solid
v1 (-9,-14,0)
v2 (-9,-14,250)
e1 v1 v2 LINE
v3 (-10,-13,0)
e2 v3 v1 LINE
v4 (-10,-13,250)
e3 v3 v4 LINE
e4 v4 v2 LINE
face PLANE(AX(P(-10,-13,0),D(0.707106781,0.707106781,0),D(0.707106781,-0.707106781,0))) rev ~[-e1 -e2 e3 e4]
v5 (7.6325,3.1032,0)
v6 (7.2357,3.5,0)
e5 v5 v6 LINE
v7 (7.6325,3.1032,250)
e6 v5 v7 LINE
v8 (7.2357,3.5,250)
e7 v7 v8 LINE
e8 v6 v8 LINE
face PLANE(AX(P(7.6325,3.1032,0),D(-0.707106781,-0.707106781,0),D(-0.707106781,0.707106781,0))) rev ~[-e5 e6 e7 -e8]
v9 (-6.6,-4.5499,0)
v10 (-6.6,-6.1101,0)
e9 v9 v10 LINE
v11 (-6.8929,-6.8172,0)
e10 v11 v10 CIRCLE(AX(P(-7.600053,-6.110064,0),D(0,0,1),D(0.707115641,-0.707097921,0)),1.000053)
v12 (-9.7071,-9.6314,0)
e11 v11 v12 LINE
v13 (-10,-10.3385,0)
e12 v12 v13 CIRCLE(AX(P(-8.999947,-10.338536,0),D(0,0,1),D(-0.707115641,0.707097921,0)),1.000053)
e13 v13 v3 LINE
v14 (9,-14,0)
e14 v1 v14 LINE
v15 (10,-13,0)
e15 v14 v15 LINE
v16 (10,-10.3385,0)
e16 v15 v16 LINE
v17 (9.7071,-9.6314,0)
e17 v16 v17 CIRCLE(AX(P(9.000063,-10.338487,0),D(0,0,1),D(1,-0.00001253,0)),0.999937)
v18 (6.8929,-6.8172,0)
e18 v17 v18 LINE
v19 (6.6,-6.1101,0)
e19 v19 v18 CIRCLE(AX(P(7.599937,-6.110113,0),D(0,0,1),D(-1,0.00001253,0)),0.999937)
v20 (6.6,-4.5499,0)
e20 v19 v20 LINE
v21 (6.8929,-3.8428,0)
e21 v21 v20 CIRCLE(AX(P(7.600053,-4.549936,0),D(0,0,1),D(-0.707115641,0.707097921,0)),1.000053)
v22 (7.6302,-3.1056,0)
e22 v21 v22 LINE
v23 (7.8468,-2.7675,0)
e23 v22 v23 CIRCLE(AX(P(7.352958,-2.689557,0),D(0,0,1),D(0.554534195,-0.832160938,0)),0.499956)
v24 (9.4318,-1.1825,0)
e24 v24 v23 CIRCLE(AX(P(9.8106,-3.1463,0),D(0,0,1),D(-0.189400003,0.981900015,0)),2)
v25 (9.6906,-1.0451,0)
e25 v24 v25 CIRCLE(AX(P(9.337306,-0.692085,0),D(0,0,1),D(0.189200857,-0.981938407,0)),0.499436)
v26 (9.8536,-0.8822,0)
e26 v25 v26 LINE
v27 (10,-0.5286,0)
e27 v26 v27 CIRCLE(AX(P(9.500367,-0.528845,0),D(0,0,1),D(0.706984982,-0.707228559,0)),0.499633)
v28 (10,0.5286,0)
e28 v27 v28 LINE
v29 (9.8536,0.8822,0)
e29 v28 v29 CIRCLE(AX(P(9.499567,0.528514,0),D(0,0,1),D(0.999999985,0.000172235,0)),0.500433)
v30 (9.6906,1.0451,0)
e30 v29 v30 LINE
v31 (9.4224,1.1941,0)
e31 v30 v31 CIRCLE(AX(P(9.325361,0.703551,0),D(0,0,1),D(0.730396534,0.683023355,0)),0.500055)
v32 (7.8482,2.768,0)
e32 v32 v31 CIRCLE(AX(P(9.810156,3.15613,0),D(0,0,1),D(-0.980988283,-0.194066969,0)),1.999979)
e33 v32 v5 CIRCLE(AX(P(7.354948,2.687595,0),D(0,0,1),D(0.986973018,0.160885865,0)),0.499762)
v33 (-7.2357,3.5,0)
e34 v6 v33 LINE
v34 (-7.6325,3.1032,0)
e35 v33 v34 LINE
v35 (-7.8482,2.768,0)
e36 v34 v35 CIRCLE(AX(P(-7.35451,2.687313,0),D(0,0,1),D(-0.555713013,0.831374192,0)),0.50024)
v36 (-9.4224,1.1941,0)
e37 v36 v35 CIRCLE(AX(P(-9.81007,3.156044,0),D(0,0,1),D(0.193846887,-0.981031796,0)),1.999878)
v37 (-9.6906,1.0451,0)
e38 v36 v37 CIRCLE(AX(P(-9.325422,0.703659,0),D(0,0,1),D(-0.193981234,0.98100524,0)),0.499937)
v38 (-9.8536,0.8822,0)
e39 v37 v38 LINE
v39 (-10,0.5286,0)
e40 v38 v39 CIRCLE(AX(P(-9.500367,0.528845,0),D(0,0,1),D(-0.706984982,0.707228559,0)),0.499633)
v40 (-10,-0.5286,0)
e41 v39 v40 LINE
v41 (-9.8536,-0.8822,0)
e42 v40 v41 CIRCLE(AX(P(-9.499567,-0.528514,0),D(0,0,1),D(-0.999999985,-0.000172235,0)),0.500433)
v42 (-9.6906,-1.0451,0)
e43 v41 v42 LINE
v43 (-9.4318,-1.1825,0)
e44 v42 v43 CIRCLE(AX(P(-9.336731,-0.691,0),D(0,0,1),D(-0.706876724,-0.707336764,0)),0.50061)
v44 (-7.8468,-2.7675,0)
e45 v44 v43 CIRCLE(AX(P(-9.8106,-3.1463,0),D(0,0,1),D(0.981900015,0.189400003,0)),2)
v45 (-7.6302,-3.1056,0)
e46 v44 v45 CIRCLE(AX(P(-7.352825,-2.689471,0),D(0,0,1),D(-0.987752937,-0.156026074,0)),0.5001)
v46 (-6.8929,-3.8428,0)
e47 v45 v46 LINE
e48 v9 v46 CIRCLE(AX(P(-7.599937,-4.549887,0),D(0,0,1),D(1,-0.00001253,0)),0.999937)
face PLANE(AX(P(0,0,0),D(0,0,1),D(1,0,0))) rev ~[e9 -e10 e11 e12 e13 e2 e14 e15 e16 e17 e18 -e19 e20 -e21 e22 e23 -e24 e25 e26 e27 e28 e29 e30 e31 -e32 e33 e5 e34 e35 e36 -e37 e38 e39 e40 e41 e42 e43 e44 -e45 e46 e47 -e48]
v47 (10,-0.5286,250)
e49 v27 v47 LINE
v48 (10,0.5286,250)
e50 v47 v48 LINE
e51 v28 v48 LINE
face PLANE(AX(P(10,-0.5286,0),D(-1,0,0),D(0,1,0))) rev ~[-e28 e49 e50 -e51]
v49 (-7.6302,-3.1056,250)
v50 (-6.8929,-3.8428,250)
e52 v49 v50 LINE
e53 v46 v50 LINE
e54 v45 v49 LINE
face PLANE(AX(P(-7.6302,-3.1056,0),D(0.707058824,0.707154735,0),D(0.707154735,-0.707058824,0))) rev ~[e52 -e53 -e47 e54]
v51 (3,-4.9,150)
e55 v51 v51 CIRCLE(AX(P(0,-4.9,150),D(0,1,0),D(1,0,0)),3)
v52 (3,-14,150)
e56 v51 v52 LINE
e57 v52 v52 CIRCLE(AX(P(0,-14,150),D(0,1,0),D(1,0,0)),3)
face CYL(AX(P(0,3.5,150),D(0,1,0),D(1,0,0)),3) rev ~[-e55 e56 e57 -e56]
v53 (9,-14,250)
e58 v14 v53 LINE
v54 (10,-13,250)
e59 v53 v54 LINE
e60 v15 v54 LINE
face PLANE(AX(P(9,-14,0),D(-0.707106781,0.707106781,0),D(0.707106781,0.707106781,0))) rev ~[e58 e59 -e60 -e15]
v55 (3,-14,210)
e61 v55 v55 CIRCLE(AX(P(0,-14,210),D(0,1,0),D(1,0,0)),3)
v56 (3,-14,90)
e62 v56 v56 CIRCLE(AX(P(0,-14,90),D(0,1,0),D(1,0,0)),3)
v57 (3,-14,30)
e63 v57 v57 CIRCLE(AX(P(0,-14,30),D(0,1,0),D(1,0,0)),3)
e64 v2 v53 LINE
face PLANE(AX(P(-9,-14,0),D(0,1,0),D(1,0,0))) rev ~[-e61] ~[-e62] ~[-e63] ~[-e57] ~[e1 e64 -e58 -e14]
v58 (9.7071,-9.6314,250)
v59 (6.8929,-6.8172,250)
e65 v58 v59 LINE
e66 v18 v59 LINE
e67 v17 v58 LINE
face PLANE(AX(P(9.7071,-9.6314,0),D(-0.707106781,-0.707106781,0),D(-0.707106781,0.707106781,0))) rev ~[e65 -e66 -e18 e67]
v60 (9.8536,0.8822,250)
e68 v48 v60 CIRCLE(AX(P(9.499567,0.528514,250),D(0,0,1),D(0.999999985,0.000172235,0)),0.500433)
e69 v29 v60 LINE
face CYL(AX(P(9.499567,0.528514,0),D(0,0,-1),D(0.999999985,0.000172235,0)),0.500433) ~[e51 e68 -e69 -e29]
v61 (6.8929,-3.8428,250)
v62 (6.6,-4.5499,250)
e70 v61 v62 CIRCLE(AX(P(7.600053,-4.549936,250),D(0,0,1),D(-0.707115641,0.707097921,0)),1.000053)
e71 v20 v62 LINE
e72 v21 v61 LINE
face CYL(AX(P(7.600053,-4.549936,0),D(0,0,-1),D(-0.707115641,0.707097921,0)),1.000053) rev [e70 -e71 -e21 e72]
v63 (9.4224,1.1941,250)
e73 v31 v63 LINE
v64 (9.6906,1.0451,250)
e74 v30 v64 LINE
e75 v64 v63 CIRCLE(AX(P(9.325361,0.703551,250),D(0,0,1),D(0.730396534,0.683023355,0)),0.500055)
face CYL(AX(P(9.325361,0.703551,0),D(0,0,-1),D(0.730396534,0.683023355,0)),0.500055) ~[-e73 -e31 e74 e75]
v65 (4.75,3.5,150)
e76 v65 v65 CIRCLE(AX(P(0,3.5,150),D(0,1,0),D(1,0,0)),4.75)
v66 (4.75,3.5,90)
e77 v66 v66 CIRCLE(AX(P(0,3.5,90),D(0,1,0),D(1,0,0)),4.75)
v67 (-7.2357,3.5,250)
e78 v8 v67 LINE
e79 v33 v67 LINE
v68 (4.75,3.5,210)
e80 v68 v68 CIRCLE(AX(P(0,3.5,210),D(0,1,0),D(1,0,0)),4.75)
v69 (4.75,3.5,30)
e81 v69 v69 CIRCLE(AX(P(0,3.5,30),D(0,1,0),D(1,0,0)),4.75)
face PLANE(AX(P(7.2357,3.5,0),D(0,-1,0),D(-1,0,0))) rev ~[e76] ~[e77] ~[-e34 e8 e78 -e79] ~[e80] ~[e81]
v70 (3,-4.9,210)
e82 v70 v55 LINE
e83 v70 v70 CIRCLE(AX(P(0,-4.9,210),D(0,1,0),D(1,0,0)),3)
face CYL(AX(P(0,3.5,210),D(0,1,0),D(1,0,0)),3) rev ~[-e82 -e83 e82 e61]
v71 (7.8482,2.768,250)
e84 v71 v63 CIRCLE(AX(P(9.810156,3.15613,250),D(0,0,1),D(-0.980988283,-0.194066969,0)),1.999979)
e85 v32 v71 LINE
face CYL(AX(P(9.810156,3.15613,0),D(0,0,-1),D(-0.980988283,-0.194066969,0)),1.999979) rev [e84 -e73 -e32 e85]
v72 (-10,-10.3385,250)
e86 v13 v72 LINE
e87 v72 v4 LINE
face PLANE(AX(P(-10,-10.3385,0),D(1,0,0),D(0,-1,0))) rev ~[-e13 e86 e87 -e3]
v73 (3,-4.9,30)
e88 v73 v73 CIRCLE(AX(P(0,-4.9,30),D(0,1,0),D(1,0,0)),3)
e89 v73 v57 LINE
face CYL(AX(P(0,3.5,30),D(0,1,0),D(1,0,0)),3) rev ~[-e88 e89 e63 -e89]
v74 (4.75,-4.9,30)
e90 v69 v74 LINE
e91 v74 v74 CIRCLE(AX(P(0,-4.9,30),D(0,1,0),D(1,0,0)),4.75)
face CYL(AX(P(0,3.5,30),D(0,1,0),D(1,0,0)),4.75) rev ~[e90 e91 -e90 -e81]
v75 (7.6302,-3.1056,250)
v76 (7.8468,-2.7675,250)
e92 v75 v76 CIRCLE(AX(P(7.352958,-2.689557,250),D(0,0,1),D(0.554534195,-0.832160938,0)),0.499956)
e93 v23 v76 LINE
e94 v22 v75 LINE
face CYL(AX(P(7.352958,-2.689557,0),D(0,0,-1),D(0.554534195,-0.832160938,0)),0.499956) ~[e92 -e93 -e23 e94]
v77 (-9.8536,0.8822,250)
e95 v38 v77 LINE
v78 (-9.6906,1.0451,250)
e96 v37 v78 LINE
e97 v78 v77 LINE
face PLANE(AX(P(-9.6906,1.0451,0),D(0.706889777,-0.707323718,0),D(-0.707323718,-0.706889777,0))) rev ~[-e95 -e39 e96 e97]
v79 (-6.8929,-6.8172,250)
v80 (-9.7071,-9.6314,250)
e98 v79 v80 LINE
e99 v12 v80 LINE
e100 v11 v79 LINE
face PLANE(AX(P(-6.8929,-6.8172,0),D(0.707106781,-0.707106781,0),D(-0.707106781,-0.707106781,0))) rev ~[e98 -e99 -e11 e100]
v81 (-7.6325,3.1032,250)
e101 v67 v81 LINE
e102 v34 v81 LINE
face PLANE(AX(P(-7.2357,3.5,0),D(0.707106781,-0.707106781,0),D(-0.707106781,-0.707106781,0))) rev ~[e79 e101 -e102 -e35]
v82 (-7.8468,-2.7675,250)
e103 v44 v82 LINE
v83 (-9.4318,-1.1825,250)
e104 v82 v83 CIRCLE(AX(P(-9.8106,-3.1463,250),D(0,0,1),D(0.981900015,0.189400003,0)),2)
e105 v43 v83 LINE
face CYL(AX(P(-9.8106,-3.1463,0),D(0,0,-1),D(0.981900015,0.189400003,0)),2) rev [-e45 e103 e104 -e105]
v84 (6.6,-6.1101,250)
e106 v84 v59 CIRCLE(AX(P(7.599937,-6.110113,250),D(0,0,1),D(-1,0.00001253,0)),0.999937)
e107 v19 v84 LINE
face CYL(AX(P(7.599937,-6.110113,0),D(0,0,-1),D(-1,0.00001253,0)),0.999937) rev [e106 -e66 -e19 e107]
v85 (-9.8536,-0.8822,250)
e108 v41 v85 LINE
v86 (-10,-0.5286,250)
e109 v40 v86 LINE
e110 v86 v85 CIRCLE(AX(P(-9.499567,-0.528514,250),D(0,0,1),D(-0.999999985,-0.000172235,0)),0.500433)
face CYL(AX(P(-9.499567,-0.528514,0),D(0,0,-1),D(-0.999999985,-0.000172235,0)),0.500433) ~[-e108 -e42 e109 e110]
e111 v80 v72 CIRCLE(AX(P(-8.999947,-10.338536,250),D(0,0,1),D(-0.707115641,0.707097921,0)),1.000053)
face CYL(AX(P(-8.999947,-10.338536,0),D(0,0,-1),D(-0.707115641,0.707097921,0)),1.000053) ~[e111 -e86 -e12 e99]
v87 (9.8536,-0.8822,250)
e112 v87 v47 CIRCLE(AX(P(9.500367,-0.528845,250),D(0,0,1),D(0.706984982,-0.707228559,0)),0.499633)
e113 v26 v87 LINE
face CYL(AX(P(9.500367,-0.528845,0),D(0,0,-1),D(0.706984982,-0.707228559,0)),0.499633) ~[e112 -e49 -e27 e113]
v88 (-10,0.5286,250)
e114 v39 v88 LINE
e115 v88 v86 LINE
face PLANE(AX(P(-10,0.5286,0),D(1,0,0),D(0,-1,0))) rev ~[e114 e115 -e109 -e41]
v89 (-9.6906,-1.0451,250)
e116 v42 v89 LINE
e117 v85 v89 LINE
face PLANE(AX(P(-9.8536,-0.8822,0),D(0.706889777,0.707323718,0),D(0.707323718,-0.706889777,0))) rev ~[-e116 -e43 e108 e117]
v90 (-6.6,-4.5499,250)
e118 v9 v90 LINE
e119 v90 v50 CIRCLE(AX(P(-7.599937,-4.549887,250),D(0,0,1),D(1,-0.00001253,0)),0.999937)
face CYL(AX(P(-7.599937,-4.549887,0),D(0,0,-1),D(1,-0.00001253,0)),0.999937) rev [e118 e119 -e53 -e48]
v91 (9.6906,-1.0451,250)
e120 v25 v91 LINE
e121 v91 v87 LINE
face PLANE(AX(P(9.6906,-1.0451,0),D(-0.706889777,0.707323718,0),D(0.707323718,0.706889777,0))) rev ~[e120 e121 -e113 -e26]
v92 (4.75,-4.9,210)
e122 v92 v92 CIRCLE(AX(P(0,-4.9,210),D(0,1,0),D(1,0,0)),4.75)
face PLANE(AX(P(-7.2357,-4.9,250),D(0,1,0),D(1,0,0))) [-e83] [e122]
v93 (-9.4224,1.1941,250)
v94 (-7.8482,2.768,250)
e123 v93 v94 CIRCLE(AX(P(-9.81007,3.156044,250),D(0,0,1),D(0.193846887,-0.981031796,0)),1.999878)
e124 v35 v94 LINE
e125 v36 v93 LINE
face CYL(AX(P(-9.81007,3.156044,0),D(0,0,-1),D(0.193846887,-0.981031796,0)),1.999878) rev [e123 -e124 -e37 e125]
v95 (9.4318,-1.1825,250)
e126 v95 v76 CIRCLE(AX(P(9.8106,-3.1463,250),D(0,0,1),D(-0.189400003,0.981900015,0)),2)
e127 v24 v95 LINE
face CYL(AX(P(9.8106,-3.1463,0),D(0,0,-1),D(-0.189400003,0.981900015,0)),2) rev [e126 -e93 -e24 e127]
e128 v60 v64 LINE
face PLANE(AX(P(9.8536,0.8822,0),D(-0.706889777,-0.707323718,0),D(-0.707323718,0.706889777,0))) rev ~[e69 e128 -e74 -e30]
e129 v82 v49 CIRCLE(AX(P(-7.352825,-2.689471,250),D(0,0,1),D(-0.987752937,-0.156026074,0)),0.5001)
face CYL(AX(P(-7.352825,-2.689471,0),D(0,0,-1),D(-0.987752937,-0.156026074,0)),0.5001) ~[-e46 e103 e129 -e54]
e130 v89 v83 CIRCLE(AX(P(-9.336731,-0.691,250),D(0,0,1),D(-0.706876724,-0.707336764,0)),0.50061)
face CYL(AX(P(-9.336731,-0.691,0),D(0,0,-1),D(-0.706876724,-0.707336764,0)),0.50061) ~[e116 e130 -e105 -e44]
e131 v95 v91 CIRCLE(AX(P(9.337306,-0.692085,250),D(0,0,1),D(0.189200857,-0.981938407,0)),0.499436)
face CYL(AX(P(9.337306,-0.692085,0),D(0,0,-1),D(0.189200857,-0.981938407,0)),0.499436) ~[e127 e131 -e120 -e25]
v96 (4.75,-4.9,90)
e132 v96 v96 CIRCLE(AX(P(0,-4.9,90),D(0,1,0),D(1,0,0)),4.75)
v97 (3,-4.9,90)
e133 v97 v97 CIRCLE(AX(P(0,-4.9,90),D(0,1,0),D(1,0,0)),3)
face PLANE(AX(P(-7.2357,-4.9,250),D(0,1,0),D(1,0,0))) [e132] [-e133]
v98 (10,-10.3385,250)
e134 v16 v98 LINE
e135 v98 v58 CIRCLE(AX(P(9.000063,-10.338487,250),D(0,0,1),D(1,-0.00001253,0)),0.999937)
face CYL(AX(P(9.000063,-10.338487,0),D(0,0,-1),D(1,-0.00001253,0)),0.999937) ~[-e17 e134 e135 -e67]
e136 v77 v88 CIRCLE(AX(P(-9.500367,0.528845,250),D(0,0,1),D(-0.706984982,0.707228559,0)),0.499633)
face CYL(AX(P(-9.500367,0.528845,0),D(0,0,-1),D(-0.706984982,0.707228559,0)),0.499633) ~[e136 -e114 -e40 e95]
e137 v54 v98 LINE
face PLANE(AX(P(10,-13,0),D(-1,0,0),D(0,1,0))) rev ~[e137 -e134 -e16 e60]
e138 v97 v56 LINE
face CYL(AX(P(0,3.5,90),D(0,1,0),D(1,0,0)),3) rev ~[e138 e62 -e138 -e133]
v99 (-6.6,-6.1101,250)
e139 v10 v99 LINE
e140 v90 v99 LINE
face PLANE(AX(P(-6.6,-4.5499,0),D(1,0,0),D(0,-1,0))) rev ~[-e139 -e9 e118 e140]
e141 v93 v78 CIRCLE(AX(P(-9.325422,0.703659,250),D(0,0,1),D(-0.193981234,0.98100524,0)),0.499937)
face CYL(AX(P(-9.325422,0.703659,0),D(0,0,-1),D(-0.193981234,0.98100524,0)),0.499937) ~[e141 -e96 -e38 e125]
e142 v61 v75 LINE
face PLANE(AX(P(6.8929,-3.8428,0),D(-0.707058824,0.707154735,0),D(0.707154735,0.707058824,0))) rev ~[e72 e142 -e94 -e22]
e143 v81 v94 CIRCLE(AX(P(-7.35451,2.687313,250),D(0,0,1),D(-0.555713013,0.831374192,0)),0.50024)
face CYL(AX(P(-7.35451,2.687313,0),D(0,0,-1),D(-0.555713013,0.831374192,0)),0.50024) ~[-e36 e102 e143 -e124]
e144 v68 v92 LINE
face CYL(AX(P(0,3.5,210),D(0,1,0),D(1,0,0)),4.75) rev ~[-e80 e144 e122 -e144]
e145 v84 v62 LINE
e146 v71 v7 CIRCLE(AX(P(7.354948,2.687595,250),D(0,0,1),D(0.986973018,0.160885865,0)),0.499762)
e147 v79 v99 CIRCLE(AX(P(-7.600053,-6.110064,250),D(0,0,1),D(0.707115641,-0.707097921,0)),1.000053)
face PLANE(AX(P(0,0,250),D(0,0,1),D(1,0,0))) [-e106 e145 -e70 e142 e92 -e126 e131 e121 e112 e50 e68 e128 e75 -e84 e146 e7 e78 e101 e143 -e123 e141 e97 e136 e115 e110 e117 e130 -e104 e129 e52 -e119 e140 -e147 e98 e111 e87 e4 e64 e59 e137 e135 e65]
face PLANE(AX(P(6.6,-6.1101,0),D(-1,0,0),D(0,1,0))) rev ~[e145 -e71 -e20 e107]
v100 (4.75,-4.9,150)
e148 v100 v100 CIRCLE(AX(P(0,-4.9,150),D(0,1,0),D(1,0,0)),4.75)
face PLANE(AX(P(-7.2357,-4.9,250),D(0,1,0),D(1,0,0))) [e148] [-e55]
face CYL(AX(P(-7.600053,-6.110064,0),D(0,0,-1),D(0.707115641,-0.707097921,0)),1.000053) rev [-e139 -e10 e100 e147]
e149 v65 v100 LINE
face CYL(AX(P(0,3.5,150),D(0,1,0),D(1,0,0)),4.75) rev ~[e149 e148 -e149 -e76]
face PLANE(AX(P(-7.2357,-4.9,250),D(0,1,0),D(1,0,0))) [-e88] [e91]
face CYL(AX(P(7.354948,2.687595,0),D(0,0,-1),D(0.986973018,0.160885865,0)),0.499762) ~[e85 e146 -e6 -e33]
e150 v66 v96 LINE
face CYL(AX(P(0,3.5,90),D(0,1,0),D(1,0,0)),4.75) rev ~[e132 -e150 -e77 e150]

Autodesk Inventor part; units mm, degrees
ref_plane "YZ Plane" through (0, 0, 0) normal (1, 0, 0) x (0, 1, 0)
ref_plane "XZ Plane" through (0, 0, 0) normal (0, 1, 0) x (-1, 0, 0)
ref_plane "XY Plane" through (0, 0, 0) normal (0, 0, 1) x (1, 0, 0)
sketch "Sketch1" plane through (0, 0, 0) normal (0, 0, 1) x (1, 0, 0)
  arc A0 (-9.7071, -9.6314) -> (-10, -10.3385) centre (-9, -10.3385) ccw
  line L0 (-10, -10.3385) -> (-10, -13)
  line L1 (-10, -13) -> (-9, -14)
  line L2 (-9, -14) -> (9, -14)
  line L3 (9, -14) -> (10, -13)
  line L4 (10, -13) -> (10, -10.3385)
  arc A1 (10, -10.3385) -> (9.7071, -9.6314) centre (9, -10.3385) ccw
  line L5 (9.7071, -9.6314) -> (6.8929, -6.8172)
  arc A2 (6.6, -6.1101) -> (6.8929, -6.8172) centre (7.6, -6.1101) ccw
  line L6 (6.6, -6.1101) -> (6.6, -4.5499)
  arc A3 (6.8929, -3.8428) -> (6.6, -4.5499) centre (7.6, -4.5499) ccw
  line L7 (6.8929, -3.8428) -> (7.6302, -3.1056)
  arc A4 (7.6302, -3.1056) -> (7.8468, -2.7675) centre (7.3529, -2.6895) ccw
  arc A5 (9.4318, -1.1825) -> (7.8468, -2.7675) centre (9.8106, -3.1463) ccw
  arc A6 (9.4318, -1.1825) -> (9.6906, -1.0451) centre (9.3371, -0.6915) ccw
  line L8 (9.6906, -1.0451) -> (9.8536, -0.8822)
  arc A7 (9.8536, -0.8822) -> (10, -0.5286) centre (9.5, -0.5286) ccw
  line L9 (10, -0.5286) -> (10, 0.5286)
  arc A8 (10, 0.5286) -> (9.8536, 0.8822) centre (9.5, 0.5286) ccw
  line L10 (9.8536, 0.8822) -> (9.6906, 1.0451)
  arc A9 (9.6906, 1.0451) -> (9.4224, 1.1941) centre (9.3254, 0.7036) ccw
  arc A10 (7.8482, 2.768) -> (9.4224, 1.1941) centre (9.8101, 3.1561) ccw
  arc A11 (7.8482, 2.768) -> (7.6325, 3.1032) centre (7.3547, 2.6875) ccw
  line L11 (7.6325, 3.1032) -> (7.2357, 3.5)
  line L12 (7.2357, 3.5) -> (-7.2357, 3.5)
  line L13 (-7.2357, 3.5) -> (-7.6325, 3.1032)
  arc A12 (-7.6325, 3.1032) -> (-7.8482, 2.768) centre (-7.3547, 2.6875) ccw
  arc A13 (-9.4224, 1.1941) -> (-7.8482, 2.768) centre (-9.8101, 3.1561) ccw
  arc A14 (-9.4224, 1.1941) -> (-9.6906, 1.0451) centre (-9.3254, 0.7036) ccw
  line L14 (-9.6906, 1.0451) -> (-9.8536, 0.8822)
  arc A15 (-9.8536, 0.8822) -> (-10, 0.5286) centre (-9.5, 0.5286) ccw
  line L15 (-10, 0.5286) -> (-10, -0.5286)
  arc A16 (-10, -0.5286) -> (-9.8536, -0.8822) centre (-9.5, -0.5286) ccw
  line L16 (-9.8536, -0.8822) -> (-9.6906, -1.0451)
  arc A17 (-9.6906, -1.0451) -> (-9.4318, -1.1825) centre (-9.3371, -0.6915) ccw
  arc A18 (-7.8468, -2.7675) -> (-9.4318, -1.1825) centre (-9.8106, -3.1463) ccw
  arc A19 (-7.8468, -2.7675) -> (-7.6302, -3.1056) centre (-7.3529, -2.6895) ccw
  line L17 (-7.6302, -3.1056) -> (-6.8929, -3.8428)
  arc A20 (-6.6, -4.5499) -> (-6.8929, -3.8428) centre (-7.6, -4.5499) ccw
  line L18 (-6.6, -4.5499) -> (-6.6, -6.1101)
  arc A21 (-6.8929, -6.8172) -> (-6.6, -6.1101) centre (-7.6, -6.1101) ccw
  line L19 (-6.8929, -6.8172) -> (-9.7071, -9.6314)
  point P0 (0, 0)
  point P1 (0, 0)
  dimension "d82" = 18
  dimension "d83" = 14.4714
extrude "Extrusion1" add sketch "Sketch1" along normal blind 250
sketch "Sketch2" plane through (-7.2357, 3.5, 250) normal (0, 1, 0) x (1, 0, 0)
  line L0 (14.4714, 250) -> (0, 250) projected
  line L1 (0, 250) -> (0, 0) projected
  line L2 (14.4714, 0) -> (0, 0) projected
  line L3 (14.4714, 250) -> (14.4714, 0) projected
  circle A0 centre (7.2357, 1480) radius 4.75
  circle A1 centre (7.2357, 1480) radius 3
  circle A2 centre (7.2357, 1420) radius 4.75
  circle A3 centre (7.2357, 1420) radius 3
  circle A4 centre (7.2357, 1360) radius 4.75
  circle A5 centre (7.2357, 1360) radius 3
  circle A6 centre (7.2357, 1300) radius 4.75
  circle A7 centre (7.2357, 1300) radius 3
  circle A8 centre (7.2357, 1240) radius 4.75
  circle A9 centre (7.2357, 1240) radius 3
  circle A10 centre (7.2357, 1180) radius 4.75
  circle A11 centre (7.2357, 1180) radius 3
  circle A12 centre (7.2357, 1120) radius 4.75
  circle A13 centre (7.2357, 1120) radius 3
  circle A14 centre (7.2357, 1060) radius 4.75
  circle A15 centre (7.2357, 1060) radius 3
  circle A16 centre (7.2357, 1000) radius 4.75
  circle A17 centre (7.2357, 1000) radius 3
  circle A18 centre (7.2357, 940) radius 4.75
  circle A19 centre (7.2357, 940) radius 3
  circle A20 centre (7.2357, 880) radius 4.75
  circle A21 centre (7.2357, 880) radius 3
  circle A22 centre (7.2357, 820) radius 4.75
  circle A23 centre (7.2357, 820) radius 3
  circle A24 centre (7.2357, 760) radius 4.75
  circle A25 centre (7.2357, 760) radius 3
  circle A26 centre (7.2357, 700) radius 4.75
  circle A27 centre (7.2357, 700) radius 3
  circle A28 centre (7.2357, 640) radius 4.75
  circle A29 centre (7.2357, 640) radius 3
  circle A30 centre (7.2357, 580) radius 4.75
  circle A31 centre (7.2357, 580) radius 3
  circle A32 centre (7.2357, 520) radius 4.75
  circle A33 centre (7.2357, 520) radius 3
  circle A34 centre (7.2357, 460) radius 4.75
  circle A35 centre (7.2357, 460) radius 3
  circle A36 centre (7.2357, 400) radius 4.75
  circle A37 centre (7.2357, 400) radius 3
  circle A38 centre (7.2357, 340) radius 4.75
  circle A39 centre (7.2357, 340) radius 3
  circle A40 centre (7.2357, 280) radius 4.75
  circle A41 centre (7.2357, 280) radius 3
  circle A42 centre (7.2357, 220) radius 4.75
  circle A43 centre (7.2357, 220) radius 3
  circle A44 centre (7.2357, 160) radius 4.75
  circle A45 centre (7.2357, 160) radius 3
  circle A46 centre (7.2357, 100) radius 4.75
  circle A47 centre (7.2357, 100) radius 3
  circle A48 centre (7.2357, 40) radius 4.75
  circle A49 centre (7.2357, 40) radius 3
  point P0 (7.2357, 250)
  dimension "d3" = 9.5
  dimension "d4" = 6
  dimension "d6" = 9.5
  dimension "d7" = 6
  dimension "d9" = 9.5
  dimension "d10" = 6
  dimension "d12" = 9.5
  dimension "d13" = 6
  dimension "d15" = 9.5
  dimension "d16" = 6
  dimension "d18" = 9.5
  dimension "d19" = 6
  dimension "d21" = 9.5
  dimension "d22" = 6
  dimension "d24" = 9.5
  dimension "d25" = 6
  dimension "d27" = 9.5
  dimension "d28" = 6
  dimension "d30" = 9.5
  dimension "d31" = 6
  dimension "d33" = 9.5
  dimension "d34" = 6
  dimension "d36" = 9.5
  dimension "d37" = 6
  dimension "d39" = 9.5
  dimension "d40" = 6
  dimension "d42" = 9.5
  dimension "d43" = 6
  dimension "d45" = 9.5
  dimension "d46" = 6
  dimension "d48" = 9.5
  dimension "d49" = 6
  dimension "d51" = 9.5
  dimension "d52" = 6
  dimension "d54" = 9.5
  dimension "d55" = 6
  dimension "d57" = 9.5
  dimension "d58" = 6
  dimension "d60" = 9.5
  dimension "d61" = 6
  dimension "d63" = 9.5
  dimension "d64" = 6
  dimension "d66" = 9.5
  dimension "d67" = 6
  dimension "d69" = 9.5
  dimension "d70" = 6
  dimension "d72" = 9.5
  dimension "d73" = 6
  dimension "d75" = 9.5
  dimension "d76" = 6
extrude "Extrusion2" cut sketch "Sketch2" against normal blind 30 contours A1 | A3 | A5 | A7 | A9 | A11 | A13 | A15 | A17 | A19 | A21 | A23 | A25 | A27 | A29 | A31 | A35 | A37 | A39 | A41 | A43 | A45 | A47 | A49
extrude "Extrusion3" cut sketch "Sketch2" against normal blind 8.4 contours A0 | A2 | A4 | A6 | A8 | A10 | A11 | A12 | A14 | A16 | A18 | A20 | A24 | A26 | A28 | A30 | A32 | A34 | A36 | A38 | A40 | A42 | A44 | A46 | A48
sketch "Sketch3" plane through (0, 0, 250) normal (0, 0, 1) x (1, 0, 0)
  line L0 (9.6906, -1.0451) -> (9.8536, -0.8822) projected
  arc A0 (9.8536, -0.8822) -> (10, -0.5286) centre (9.5, -0.5286) ccw projected
  line L1 (10, -0.5286) -> (10, 0.5286) projected
  arc A1 (10, 0.5286) -> (9.8536, 0.8822) centre (9.5, 0.5286) ccw projected
  line L2 (9.8536, 0.8822) -> (9.6906, 1.0451) projected
  arc A2 (9.6906, 1.0451) -> (9.4224, 1.1941) centre (9.3254, 0.7036) ccw projected
  arc A3 (7.8482, 2.768) -> (9.4224, 1.1941) centre (9.8101, 3.1561) ccw projected
  arc A4 (7.8482, 2.768) -> (7.6325, 3.1032) centre (7.3547, 2.6875) ccw projected
  line L3 (7.6325, 3.1032) -> (7.2357, 3.5) projected
  line L4 (7.2357, 3.5) -> (-7.2357, 3.5) projected
  line L5 (-7.2357, 3.5) -> (-7.6325, 3.1032) projected
  arc A5 (-7.6325, 3.1032) -> (-7.8482, 2.768) centre (-7.3547, 2.6875) ccw projected
  arc A6 (-9.4224, 1.1941) -> (-7.8482, 2.768) centre (-9.8101, 3.1561) ccw projected
  arc A7 (-9.4224, 1.1941) -> (-9.6906, 1.0451) centre (-9.3254, 0.7036) ccw projected
  line L6 (-9.6906, 1.0451) -> (-9.8536, 0.8822) projected
  arc A8 (-9.8536, 0.8822) -> (-10, 0.5286) centre (-9.5, 0.5286) ccw projected
  line L7 (-10, 0.5286) -> (-10, -0.5286) projected
  arc A9 (-10, -0.5286) -> (-9.8536, -0.8822) centre (-9.5, -0.5286) ccw projected
  line L8 (-9.8536, -0.8822) -> (-9.6906, -1.0451) projected
  arc A10 (-9.6906, -1.0451) -> (-9.4318, -1.1825) centre (-9.3371, -0.6915) ccw projected
  arc A11 (-7.8468, -2.7675) -> (-9.4318, -1.1825) centre (-9.8106, -3.1463) ccw projected
  arc A12 (-7.8468, -2.7675) -> (-7.6302, -3.1056) centre (-7.3529, -2.6895) ccw projected
  line L9 (-7.6302, -3.1056) -> (-6.8929, -3.8428) projected
  arc A13 (-6.6, -4.5499) -> (-6.8929, -3.8428) centre (-7.6, -4.5499) ccw projected
  line L10 (-6.6, -4.5499) -> (-6.6, -6.1101) projected
  arc A14 (-6.8929, -6.8172) -> (-6.6, -6.1101) centre (-7.6, -6.1101) ccw projected
  line L11 (-6.8929, -6.8172) -> (-9.7071, -9.6314) projected
  arc A15 (-9.7071, -9.6314) -> (-10, -10.3385) centre (-9, -10.3385) ccw projected
  line L12 (-10, -10.3385) -> (-10, -13) projected
  line L13 (-10, -13) -> (-9, -14) projected
  line L14 (-9, -14) -> (9, -14) projected
  line L15 (9, -14) -> (10, -13) projected
  line L16 (10, -13) -> (10, -10.3385) projected
  arc A16 (10, -10.3385) -> (9.7071, -9.6314) centre (9, -10.3385) ccw projected
  line L17 (9.7071, -9.6314) -> (6.8929, -6.8172) projected
  arc A17 (6.6, -6.1101) -> (6.8929, -6.8172) centre (7.6, -6.1101) ccw projected
  line L18 (6.6, -6.1101) -> (6.6, -4.5499) projected
  arc A18 (6.8929, -3.8428) -> (6.6, -4.5499) centre (7.6, -4.5499) ccw projected
  line L19 (6.8929, -3.8428) -> (7.6302, -3.1056) projected
  arc A19 (7.6302, -3.1056) -> (7.8468, -2.7675) centre (7.3529, -2.6895) ccw projected
  arc A20 (9.4318, -1.1825) -> (7.8468, -2.7675) centre (9.8106, -3.1463) ccw projected
  arc A21 (9.4318, -1.1825) -> (9.6906, -1.0451) centre (9.3371, -0.6915) ccw projected
  line L20 (-4.75, 3.5) -> (4.75, 3.5) projected
  line L21 (0, 3.5) -> (0, -14)
  point P0 (0, 0)
sketch "Sketch4" plane through (0, 0, 0) normal (0, 0, -1) x (-1, 0, 0)
  line L0 (-9.6906, -1.0451) -> (-9.8536, -0.8822) projected
  arc A0 (-9.6906, -1.0451) -> (-9.4318, -1.1825) centre (-9.3371, -0.6915) ccw projected
  arc A1 (-9.4318, -1.1825) -> (-7.8468, -2.7675) centre (-9.8106, -3.1463) ccw projected
  arc A2 (-7.8468, -2.7675) -> (-7.6302, -3.1056) centre (-7.3529, -2.6895) ccw projected
  line L1 (-6.8929, -3.8428) -> (-7.6302, -3.1056) projected
  arc A3 (-6.8929, -3.8428) -> (-6.6, -4.5499) centre (-7.6, -4.5499) ccw projected
  line L2 (-6.6, -6.1101) -> (-6.6, -4.5499) projected
  arc A4 (-6.6, -6.1101) -> (-6.8929, -6.8172) centre (-7.6, -6.1101) ccw projected
  line L3 (-9.7071, -9.6314) -> (-6.8929, -6.8172) projected
  arc A5 (-9.7071, -9.6314) -> (-10, -10.3385) centre (-9, -10.3385) ccw projected
  line L4 (-10, -13) -> (-10, -10.3385) projected
  line L5 (-9, -14) -> (-10, -13) projected
  line L6 (9, -14) -> (-9, -14) projected
  line L7 (10, -13) -> (9, -14) projected
  line L8 (10, -10.3385) -> (10, -13) projected
  arc A6 (10, -10.3385) -> (9.7071, -9.6314) centre (9, -10.3385) ccw projected
  line L9 (6.8929, -6.8172) -> (9.7071, -9.6314) projected
  arc A7 (6.8929, -6.8172) -> (6.6, -6.1101) centre (7.6, -6.1101) ccw projected
  line L10 (6.6, -4.5499) -> (6.6, -6.1101) projected
  arc A8 (6.6, -4.5499) -> (6.8929, -3.8428) centre (7.6, -4.5499) ccw projected
  line L11 (7.6302, -3.1056) -> (6.8929, -3.8428) projected
  arc A9 (7.6302, -3.1056) -> (7.8468, -2.7675) centre (7.3529, -2.6895) ccw projected
  arc A10 (7.8468, -2.7675) -> (9.4318, -1.1825) centre (9.8106, -3.1463) ccw projected
  arc A11 (9.4318, -1.1825) -> (9.6906, -1.0451) centre (9.3371, -0.6915) ccw projected
  line L12 (9.8536, -0.8822) -> (9.6906, -1.0451) projected
  arc A12 (9.8536, -0.8822) -> (10, -0.5286) centre (9.5, -0.5286) ccw projected
  line L13 (10, 0.5286) -> (10, -0.5286) projected
  arc A13 (10, 0.5286) -> (9.8536, 0.8822) centre (9.5, 0.5286) ccw projected
  line L14 (9.6906, 1.0451) -> (9.8536, 0.8822) projected
  arc A14 (9.6906, 1.0451) -> (9.4224, 1.1941) centre (9.3254, 0.7036) ccw projected
  arc A15 (9.4224, 1.1941) -> (7.8482, 2.768) centre (9.8101, 3.1561) ccw projected
  arc A16 (7.8482, 2.768) -> (7.6325, 3.1032) centre (7.3547, 2.6875) ccw projected
  line L15 (7.2357, 3.5) -> (7.6325, 3.1032) projected
  line L16 (-7.2357, 3.5) -> (7.2357, 3.5) projected
  line L17 (-7.6325, 3.1032) -> (-7.2357, 3.5) projected
  arc A17 (-7.6325, 3.1032) -> (-7.8482, 2.768) centre (-7.3547, 2.6875) ccw projected
  arc A18 (-7.8482, 2.768) -> (-9.4224, 1.1941) centre (-9.8101, 3.1561) ccw projected
  arc A19 (-9.4224, 1.1941) -> (-9.6906, 1.0451) centre (-9.3254, 0.7036) ccw projected
  line L18 (-9.8536, 0.8822) -> (-9.6906, 1.0451) projected
  arc A20 (-9.8536, 0.8822) -> (-10, 0.5286) centre (-9.5, 0.5286) ccw projected
  line L19 (-10, -0.5286) -> (-10, 0.5286) projected
  arc A21 (-10, -0.5286) -> (-9.8536, -0.8822) centre (-9.5, -0.5286) ccw projected
  line L20 (0, 3.5) -> (0, -14)
  point P0 (0, 0)
properties part number "Thanh_truot_20x200"
